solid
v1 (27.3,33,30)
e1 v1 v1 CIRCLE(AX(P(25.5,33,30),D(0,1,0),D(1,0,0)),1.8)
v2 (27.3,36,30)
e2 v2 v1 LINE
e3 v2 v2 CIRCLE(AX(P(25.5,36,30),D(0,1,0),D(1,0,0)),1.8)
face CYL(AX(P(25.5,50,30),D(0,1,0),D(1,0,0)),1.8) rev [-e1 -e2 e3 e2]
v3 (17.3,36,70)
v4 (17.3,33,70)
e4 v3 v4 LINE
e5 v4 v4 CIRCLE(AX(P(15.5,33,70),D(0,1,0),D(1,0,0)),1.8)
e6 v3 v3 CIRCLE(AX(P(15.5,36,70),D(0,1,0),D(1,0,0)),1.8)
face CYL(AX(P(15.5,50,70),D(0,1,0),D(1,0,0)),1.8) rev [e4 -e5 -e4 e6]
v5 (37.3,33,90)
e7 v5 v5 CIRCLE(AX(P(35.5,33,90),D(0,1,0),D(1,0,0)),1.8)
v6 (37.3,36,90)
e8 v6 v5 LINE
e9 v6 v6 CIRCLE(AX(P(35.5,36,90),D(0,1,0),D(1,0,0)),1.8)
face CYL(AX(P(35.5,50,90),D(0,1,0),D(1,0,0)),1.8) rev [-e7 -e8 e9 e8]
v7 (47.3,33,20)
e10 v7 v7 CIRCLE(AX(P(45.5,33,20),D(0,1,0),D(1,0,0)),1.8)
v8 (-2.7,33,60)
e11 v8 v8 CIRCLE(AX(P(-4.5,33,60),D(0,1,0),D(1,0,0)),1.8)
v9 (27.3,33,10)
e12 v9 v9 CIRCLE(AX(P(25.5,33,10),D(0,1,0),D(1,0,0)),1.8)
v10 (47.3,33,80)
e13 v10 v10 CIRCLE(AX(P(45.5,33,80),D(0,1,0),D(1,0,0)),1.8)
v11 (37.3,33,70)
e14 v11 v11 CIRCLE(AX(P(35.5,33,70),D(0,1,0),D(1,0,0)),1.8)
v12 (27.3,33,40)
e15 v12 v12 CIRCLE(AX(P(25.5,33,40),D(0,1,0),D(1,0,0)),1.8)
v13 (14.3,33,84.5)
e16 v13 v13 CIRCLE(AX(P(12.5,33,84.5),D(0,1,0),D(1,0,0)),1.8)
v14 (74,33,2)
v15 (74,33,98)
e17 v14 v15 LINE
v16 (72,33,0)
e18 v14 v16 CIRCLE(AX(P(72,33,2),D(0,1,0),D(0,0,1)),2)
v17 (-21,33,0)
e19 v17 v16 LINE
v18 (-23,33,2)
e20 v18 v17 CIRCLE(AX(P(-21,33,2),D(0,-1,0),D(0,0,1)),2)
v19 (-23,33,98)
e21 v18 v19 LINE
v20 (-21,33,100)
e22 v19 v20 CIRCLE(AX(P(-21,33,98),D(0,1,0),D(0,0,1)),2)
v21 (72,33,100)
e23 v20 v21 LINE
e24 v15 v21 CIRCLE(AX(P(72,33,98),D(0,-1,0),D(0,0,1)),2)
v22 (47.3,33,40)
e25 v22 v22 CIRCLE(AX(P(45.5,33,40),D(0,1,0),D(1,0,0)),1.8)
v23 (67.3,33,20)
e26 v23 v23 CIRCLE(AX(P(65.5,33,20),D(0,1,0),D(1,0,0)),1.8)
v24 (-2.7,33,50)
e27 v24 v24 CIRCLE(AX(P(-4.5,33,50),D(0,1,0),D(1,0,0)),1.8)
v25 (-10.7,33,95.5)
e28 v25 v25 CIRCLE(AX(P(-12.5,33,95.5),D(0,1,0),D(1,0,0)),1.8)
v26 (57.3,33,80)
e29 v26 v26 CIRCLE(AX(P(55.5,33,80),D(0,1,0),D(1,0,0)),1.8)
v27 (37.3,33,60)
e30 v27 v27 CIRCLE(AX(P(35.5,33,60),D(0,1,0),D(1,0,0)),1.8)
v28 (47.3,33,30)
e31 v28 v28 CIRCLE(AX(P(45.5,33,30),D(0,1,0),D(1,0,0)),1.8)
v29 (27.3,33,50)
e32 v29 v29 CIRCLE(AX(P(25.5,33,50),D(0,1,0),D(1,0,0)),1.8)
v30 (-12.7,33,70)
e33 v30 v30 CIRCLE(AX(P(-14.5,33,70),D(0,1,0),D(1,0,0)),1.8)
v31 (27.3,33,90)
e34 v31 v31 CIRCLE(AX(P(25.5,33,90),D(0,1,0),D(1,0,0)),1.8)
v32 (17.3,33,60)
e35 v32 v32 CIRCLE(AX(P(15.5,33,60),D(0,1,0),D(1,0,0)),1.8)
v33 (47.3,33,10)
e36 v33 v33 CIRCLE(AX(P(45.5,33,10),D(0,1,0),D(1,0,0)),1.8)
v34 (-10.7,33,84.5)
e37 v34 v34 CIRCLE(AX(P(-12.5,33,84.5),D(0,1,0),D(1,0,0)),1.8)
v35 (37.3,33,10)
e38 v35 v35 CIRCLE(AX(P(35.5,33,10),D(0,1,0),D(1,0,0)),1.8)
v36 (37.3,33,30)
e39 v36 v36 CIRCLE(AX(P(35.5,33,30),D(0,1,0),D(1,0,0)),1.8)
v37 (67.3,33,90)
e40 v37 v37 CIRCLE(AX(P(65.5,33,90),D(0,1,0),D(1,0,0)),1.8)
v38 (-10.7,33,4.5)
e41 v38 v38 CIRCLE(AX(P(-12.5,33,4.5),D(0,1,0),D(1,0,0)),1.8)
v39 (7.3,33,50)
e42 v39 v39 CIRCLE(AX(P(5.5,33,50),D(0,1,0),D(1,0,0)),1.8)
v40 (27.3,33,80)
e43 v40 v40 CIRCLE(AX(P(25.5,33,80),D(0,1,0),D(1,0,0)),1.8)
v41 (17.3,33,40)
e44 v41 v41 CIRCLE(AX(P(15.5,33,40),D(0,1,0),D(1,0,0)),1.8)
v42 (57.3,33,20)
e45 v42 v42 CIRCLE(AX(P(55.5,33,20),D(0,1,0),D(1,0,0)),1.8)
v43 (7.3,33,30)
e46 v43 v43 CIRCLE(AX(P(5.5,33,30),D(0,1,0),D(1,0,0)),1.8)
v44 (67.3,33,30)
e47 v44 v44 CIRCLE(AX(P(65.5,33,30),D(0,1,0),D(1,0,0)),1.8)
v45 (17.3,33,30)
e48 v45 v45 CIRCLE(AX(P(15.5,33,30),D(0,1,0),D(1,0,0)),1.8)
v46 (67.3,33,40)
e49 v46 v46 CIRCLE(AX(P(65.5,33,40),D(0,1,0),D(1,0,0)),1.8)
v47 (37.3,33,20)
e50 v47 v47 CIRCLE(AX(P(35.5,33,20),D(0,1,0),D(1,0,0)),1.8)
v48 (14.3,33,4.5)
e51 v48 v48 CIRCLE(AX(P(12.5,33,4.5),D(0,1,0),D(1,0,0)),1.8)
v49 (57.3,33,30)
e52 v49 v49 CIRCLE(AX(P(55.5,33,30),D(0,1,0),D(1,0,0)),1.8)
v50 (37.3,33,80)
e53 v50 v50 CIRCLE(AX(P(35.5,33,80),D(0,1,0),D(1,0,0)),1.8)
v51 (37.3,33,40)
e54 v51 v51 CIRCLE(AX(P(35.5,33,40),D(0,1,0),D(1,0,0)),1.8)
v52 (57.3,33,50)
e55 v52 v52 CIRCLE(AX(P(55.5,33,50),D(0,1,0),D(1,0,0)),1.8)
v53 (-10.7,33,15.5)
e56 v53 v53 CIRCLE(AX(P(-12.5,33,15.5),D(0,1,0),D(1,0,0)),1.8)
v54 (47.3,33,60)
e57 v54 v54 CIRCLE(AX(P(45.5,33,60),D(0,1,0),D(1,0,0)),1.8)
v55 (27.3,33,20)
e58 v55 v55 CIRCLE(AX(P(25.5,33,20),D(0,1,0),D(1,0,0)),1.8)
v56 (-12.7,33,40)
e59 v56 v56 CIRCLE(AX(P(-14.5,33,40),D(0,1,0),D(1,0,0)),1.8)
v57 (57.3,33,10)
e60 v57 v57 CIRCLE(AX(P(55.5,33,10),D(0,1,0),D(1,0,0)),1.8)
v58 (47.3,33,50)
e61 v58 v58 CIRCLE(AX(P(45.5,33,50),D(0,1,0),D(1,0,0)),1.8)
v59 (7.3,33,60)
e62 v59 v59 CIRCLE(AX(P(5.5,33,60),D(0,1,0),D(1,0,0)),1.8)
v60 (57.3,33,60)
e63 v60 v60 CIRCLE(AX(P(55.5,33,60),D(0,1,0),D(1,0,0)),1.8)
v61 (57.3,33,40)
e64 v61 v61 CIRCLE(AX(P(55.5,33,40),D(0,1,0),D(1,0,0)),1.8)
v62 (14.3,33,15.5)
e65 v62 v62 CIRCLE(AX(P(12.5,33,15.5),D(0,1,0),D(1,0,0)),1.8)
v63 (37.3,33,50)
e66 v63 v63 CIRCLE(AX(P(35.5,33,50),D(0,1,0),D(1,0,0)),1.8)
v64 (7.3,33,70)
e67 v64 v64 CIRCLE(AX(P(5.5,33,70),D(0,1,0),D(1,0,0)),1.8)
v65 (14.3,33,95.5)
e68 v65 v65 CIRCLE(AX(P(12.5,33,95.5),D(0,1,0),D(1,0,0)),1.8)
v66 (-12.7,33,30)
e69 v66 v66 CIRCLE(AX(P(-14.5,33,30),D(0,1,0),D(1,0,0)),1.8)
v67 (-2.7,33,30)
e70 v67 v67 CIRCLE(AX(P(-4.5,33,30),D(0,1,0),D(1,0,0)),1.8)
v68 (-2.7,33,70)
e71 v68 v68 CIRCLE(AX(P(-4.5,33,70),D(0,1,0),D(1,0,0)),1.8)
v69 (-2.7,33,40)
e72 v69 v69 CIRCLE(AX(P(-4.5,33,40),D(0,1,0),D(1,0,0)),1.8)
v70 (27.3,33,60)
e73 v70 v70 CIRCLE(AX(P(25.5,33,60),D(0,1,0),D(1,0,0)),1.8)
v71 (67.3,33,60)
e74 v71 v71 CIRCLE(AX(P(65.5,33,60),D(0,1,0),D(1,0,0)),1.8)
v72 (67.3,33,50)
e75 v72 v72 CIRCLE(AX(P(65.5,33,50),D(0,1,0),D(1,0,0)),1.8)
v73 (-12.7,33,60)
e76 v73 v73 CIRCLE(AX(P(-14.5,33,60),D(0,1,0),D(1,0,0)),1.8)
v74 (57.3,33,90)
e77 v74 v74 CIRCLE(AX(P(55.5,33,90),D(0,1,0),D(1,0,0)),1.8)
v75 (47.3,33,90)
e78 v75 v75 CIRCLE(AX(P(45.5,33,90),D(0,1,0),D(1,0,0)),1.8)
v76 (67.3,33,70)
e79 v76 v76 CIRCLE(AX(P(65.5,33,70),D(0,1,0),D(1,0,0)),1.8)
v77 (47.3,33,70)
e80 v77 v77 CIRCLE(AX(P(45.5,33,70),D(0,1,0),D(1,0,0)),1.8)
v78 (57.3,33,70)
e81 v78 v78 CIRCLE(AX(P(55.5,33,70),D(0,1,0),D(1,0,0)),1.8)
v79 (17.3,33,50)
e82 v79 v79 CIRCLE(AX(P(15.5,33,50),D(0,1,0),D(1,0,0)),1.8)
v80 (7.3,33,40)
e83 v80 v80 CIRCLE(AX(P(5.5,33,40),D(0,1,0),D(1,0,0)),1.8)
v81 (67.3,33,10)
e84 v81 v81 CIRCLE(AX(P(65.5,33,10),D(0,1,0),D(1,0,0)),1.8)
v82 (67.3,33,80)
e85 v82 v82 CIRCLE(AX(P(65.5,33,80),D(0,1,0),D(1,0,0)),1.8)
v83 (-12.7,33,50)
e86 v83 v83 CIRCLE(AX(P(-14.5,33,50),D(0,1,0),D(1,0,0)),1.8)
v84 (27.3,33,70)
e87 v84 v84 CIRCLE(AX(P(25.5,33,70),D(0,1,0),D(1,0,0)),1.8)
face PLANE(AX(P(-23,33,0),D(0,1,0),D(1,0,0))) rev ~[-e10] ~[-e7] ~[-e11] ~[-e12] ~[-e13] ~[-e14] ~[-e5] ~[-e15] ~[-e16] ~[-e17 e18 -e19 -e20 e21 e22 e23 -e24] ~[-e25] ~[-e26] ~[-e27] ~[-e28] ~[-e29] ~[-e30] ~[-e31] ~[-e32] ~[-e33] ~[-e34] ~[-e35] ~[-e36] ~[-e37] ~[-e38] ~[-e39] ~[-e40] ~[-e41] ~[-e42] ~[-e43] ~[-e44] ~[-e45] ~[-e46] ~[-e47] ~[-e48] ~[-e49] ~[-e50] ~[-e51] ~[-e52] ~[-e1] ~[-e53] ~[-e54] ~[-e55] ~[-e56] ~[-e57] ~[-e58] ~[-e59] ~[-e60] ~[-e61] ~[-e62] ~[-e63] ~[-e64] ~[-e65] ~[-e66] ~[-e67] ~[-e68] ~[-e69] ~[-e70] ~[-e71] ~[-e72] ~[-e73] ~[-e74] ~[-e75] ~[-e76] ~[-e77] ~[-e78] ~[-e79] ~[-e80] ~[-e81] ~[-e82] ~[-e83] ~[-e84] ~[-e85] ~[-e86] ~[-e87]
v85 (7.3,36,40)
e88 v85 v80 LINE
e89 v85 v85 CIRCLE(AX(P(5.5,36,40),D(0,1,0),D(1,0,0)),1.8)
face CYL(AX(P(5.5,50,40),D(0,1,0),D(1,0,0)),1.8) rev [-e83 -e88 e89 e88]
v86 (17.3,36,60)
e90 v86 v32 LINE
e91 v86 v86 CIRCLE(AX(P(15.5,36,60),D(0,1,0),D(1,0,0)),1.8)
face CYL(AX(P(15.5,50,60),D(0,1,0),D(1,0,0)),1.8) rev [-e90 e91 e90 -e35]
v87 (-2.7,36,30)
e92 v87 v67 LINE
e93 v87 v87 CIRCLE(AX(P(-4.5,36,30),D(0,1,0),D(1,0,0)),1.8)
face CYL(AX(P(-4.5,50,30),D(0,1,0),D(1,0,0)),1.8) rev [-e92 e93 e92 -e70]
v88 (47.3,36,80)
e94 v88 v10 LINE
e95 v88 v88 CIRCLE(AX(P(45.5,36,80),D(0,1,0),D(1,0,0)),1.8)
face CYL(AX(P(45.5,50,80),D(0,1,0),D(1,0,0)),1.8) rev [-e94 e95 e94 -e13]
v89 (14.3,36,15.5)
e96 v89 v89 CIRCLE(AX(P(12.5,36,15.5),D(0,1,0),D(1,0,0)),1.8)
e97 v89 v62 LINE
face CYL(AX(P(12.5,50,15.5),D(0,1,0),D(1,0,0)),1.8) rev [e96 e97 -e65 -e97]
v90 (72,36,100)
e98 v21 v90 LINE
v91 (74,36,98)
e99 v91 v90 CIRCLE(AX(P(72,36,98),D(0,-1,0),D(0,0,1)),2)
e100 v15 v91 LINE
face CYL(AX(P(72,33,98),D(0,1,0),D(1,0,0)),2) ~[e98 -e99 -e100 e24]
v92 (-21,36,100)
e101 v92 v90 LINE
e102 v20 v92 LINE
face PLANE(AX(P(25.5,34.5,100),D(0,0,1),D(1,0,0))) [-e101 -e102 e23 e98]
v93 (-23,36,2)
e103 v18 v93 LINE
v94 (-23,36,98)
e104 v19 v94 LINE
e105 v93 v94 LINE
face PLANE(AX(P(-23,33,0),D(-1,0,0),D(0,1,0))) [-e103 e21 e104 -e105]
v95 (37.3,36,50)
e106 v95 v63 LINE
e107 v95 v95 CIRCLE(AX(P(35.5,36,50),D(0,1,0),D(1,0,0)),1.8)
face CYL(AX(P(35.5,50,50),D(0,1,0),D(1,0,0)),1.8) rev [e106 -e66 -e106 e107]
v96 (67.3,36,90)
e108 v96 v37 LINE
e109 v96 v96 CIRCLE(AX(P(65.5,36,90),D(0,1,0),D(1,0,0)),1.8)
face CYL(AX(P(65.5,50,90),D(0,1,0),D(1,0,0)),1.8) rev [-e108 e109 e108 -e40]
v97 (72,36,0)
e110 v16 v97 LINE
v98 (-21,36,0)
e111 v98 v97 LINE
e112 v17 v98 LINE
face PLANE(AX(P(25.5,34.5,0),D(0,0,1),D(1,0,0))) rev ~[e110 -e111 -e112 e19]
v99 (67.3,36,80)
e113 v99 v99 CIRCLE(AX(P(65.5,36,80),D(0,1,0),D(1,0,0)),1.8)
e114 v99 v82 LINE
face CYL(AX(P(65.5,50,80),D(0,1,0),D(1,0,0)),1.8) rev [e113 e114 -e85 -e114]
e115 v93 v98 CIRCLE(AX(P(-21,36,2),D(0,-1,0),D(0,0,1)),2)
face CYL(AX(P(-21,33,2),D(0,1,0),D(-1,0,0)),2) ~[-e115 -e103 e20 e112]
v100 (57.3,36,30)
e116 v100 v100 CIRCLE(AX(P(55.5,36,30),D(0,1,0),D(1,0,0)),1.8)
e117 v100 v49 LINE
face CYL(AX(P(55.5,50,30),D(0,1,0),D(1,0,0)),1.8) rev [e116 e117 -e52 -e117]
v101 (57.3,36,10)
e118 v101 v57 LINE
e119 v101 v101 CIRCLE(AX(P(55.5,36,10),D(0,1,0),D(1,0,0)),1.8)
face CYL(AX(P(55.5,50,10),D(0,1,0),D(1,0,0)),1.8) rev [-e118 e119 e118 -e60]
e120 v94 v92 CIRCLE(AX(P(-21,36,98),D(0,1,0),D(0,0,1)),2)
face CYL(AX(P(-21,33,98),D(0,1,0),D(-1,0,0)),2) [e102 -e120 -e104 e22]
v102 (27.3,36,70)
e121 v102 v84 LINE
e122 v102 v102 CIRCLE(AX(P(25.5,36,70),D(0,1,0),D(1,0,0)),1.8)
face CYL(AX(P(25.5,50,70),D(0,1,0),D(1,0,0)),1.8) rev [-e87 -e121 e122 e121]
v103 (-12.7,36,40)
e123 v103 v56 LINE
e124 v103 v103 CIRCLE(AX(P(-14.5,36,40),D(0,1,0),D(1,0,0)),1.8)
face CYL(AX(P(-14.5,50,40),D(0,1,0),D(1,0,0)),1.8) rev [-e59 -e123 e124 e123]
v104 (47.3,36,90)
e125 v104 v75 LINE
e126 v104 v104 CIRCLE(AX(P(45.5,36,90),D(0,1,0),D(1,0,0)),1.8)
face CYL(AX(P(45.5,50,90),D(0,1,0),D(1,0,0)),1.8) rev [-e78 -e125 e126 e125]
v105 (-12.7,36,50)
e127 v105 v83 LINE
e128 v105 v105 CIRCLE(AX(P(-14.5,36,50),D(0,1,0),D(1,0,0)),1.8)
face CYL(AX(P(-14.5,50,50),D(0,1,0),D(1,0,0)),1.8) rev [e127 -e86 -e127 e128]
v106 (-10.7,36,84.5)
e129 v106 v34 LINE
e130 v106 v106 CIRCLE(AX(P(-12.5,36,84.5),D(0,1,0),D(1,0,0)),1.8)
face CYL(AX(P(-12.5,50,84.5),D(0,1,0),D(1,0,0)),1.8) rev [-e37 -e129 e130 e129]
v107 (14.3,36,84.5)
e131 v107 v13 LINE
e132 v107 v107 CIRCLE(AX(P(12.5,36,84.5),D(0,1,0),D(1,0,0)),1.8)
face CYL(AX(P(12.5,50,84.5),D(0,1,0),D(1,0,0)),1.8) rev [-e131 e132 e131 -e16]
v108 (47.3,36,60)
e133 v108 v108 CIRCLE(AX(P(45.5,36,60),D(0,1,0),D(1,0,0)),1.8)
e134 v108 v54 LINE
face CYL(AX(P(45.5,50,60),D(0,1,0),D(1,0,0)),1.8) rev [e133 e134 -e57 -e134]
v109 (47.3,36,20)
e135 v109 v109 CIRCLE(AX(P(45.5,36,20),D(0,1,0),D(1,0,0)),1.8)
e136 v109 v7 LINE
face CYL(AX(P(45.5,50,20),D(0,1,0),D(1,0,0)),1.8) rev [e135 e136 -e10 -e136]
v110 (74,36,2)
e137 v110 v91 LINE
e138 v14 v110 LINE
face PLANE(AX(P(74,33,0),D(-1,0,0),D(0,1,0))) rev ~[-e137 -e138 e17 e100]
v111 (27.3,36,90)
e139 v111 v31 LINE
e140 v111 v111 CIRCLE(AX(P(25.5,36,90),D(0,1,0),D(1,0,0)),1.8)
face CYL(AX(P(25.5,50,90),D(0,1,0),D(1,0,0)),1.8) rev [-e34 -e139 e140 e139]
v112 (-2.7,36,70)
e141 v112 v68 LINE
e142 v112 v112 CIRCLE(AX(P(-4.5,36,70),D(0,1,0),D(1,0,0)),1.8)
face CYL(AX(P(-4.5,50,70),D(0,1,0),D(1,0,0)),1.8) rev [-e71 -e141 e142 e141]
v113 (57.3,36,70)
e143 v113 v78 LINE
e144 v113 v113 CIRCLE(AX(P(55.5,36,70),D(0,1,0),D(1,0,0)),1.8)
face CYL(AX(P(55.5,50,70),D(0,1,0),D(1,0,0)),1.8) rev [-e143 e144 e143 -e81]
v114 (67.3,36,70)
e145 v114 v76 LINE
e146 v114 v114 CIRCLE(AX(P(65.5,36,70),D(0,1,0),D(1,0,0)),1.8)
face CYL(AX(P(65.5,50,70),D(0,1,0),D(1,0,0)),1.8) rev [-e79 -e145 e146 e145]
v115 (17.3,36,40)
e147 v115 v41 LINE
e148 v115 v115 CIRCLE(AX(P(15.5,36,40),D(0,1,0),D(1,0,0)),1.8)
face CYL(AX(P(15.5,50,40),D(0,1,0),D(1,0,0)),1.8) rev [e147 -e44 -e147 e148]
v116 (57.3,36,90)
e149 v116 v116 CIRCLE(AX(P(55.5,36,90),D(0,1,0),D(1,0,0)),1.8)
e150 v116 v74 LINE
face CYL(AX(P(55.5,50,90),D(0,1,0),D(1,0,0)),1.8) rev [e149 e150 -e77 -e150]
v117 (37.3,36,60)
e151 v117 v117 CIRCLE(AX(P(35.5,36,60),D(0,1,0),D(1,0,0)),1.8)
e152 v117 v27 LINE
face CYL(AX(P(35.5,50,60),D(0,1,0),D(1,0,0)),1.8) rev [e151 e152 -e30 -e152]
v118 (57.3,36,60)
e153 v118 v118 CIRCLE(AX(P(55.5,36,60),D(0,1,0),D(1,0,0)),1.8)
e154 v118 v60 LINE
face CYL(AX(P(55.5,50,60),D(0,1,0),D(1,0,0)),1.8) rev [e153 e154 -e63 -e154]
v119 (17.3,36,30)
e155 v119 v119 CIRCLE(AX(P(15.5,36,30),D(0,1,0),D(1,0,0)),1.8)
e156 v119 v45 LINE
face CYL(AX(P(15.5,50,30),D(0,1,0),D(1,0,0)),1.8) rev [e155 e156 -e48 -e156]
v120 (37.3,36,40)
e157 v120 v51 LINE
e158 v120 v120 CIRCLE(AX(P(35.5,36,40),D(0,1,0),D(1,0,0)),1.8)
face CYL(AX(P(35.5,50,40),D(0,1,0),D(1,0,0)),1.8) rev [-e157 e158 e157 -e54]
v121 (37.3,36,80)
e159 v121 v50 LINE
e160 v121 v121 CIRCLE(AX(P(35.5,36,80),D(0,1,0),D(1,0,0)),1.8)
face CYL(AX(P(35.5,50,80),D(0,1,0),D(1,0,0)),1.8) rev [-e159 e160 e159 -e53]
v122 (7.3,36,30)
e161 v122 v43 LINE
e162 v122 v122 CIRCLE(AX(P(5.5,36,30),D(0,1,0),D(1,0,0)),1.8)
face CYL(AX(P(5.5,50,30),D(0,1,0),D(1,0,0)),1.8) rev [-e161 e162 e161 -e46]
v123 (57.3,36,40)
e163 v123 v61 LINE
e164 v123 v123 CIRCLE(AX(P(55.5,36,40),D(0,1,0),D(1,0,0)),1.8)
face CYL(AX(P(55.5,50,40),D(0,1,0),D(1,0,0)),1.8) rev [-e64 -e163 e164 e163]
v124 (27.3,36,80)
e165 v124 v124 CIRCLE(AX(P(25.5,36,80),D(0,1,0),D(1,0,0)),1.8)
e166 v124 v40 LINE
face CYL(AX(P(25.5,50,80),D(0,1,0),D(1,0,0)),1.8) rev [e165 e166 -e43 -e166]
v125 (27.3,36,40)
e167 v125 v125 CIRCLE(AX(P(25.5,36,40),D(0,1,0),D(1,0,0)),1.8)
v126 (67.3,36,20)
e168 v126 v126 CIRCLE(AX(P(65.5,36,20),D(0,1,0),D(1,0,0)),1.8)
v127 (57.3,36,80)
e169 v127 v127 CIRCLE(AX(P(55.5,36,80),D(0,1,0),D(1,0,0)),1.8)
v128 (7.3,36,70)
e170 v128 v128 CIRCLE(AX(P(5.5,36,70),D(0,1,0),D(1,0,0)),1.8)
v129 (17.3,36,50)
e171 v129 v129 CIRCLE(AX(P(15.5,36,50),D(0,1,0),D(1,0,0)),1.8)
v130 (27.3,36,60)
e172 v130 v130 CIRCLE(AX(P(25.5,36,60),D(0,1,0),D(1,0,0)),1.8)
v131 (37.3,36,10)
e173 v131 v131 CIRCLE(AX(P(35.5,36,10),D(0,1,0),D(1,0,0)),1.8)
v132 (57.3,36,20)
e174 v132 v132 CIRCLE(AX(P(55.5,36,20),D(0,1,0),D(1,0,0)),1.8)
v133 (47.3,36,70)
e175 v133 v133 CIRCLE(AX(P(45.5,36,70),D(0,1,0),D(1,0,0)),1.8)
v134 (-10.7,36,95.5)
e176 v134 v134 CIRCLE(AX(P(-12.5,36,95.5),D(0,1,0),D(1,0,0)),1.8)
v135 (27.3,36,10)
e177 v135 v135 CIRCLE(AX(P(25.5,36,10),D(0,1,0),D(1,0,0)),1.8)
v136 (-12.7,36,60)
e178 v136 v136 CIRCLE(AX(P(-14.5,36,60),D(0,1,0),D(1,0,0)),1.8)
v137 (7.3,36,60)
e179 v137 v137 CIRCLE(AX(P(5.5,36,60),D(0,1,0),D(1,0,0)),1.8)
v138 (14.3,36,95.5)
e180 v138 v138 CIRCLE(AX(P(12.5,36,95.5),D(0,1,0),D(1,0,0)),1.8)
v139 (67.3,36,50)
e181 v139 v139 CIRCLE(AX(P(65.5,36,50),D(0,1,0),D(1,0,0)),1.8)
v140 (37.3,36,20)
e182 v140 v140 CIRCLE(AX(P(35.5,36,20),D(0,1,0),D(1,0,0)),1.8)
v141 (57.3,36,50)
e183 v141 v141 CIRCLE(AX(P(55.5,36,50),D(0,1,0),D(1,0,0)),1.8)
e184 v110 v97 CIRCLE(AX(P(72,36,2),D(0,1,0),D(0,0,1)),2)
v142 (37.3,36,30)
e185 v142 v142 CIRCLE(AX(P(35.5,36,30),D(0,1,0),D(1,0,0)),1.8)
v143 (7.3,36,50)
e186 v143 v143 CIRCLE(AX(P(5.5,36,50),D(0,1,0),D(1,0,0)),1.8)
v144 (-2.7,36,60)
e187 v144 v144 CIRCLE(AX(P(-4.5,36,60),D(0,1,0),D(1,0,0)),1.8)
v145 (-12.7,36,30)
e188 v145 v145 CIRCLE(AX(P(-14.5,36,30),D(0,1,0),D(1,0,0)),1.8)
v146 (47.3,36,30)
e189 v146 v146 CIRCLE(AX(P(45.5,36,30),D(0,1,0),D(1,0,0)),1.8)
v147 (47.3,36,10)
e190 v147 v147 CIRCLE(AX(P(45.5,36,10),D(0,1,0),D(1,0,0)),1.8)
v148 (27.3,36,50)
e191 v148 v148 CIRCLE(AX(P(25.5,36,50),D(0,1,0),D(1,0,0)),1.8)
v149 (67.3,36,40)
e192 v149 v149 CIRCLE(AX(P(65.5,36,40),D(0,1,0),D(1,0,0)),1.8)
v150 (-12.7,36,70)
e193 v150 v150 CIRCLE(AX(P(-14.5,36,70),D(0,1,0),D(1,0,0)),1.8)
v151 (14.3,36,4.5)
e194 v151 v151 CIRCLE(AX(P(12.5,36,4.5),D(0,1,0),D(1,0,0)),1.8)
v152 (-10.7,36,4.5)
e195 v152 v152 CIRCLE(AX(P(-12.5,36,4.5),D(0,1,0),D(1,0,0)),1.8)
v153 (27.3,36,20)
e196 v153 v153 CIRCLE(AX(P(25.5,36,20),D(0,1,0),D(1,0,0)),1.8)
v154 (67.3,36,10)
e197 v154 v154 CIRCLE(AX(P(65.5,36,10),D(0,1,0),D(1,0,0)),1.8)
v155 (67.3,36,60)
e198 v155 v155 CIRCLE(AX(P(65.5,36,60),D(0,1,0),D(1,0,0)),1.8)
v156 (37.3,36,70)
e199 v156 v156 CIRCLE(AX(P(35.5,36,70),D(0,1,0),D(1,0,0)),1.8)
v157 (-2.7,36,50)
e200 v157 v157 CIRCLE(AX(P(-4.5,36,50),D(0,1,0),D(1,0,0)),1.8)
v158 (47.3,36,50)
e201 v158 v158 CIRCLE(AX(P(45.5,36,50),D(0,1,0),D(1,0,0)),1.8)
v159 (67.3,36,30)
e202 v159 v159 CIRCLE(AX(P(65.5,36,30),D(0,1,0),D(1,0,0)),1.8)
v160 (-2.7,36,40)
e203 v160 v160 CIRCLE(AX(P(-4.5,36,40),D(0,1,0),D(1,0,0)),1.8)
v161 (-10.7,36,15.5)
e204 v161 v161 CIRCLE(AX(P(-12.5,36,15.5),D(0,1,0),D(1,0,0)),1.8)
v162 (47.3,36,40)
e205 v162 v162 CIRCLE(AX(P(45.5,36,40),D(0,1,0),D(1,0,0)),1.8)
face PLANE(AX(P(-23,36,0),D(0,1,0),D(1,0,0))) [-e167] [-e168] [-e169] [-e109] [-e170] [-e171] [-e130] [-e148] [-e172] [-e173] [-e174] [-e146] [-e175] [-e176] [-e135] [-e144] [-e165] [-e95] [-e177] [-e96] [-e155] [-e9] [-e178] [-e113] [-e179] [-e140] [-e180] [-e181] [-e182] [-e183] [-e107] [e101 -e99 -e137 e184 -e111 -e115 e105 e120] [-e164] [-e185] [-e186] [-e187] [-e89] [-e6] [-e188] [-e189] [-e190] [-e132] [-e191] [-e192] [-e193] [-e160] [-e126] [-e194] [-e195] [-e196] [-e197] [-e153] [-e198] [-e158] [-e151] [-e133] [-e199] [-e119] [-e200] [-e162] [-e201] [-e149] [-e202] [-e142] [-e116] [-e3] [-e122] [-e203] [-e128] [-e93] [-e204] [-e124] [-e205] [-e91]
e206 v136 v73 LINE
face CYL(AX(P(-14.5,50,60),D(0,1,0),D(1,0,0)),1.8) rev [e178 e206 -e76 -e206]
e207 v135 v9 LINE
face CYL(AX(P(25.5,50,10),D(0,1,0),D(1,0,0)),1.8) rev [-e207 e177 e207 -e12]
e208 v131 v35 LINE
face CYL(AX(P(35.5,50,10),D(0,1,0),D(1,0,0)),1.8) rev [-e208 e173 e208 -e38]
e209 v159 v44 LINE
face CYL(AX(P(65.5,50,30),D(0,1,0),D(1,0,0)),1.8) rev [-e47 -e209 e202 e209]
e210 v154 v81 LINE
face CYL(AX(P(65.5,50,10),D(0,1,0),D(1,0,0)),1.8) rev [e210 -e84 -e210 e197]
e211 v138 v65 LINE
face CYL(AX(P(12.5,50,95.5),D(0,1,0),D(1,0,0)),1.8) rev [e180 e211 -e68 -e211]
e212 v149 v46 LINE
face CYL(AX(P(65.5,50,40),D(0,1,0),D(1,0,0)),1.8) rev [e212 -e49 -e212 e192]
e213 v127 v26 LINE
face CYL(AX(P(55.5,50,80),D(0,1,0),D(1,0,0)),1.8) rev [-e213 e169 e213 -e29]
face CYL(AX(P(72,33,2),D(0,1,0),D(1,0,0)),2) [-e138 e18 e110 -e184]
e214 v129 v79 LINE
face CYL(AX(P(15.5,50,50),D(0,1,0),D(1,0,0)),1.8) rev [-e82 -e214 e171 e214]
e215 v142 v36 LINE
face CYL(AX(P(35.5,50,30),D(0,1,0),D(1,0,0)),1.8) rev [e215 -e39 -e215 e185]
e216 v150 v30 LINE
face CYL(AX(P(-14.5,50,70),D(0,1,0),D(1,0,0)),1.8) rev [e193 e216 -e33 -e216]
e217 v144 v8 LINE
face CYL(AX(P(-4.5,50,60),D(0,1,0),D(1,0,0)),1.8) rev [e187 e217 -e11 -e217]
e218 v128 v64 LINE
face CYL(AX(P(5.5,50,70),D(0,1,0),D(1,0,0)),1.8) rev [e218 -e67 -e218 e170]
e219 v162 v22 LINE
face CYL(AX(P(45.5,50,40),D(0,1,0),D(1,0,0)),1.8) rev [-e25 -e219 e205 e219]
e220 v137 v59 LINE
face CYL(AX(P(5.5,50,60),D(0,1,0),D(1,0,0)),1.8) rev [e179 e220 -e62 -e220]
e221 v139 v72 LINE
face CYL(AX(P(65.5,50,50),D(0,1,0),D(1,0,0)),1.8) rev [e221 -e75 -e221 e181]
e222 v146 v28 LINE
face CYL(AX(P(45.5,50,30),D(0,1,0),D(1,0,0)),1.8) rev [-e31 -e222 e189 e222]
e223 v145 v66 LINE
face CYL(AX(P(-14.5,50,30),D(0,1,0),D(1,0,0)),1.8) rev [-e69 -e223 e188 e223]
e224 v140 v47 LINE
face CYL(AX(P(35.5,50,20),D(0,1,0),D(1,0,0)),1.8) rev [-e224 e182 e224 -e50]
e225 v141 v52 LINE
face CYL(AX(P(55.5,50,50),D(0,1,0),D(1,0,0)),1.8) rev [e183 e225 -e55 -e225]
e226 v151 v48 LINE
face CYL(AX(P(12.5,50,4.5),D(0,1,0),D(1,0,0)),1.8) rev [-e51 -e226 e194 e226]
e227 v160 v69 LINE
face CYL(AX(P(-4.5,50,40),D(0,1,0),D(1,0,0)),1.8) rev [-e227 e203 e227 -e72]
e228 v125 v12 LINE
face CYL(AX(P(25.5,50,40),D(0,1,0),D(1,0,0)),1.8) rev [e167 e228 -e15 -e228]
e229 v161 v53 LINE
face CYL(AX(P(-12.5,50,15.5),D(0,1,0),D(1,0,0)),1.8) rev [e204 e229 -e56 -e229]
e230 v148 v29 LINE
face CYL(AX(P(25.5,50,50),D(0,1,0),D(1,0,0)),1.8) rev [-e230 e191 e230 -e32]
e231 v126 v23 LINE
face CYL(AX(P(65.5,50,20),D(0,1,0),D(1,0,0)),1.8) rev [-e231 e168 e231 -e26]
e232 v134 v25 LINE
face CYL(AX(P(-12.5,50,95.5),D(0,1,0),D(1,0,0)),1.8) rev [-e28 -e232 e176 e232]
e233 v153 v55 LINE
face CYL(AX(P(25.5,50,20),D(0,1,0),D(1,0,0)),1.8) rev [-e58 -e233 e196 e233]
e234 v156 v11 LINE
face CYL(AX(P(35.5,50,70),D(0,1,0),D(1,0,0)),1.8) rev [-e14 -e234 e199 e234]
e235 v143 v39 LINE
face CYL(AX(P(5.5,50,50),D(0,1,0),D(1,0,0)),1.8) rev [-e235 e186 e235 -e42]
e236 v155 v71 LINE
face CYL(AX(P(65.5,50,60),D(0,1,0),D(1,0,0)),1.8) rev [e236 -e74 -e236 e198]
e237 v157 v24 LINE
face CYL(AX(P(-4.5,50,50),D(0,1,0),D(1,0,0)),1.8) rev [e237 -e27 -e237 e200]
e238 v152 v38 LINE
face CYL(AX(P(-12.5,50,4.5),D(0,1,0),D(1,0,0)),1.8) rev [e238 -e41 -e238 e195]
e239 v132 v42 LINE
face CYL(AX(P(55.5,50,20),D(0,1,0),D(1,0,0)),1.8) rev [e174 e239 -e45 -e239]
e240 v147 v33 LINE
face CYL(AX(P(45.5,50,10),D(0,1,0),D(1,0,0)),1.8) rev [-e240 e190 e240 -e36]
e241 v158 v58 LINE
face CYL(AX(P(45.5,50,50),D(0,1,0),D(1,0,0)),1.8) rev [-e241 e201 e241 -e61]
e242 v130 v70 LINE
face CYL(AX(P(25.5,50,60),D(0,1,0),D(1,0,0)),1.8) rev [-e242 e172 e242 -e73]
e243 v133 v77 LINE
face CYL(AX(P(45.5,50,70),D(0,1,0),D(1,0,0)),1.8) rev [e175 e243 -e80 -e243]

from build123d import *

# Parameters (mm, degrees)
CYLINDER038_R            = 1.8
CYLINDER038_DEPTH        = 100
ARRAY001_X_COUNT         = 2
ARRAY001_X_PITCH         = 25
ARRAY001_Y_COUNT         = 2
ARRAY001_Y_PITCH         = 11
ARRAY001_PLACEMENT_ANGLE = 90
ARRAY002_Z_COUNT         = 2
ARRAY002_Z_PITCH         = 80
SKETCH001_W              = 43.249981
SKETCH001_H              = 25.364647
SKETCH001_W_2            = 44.875929
SKETCH001_H_2            = 23.738708
EXTRUDE001_DEPTH         = 50
CYLINDER011002_R         = 1.8
CYLINDER011002_DEPTH     = 100
ARRAY004_X_COUNT         = 9
ARRAY004_X_PITCH         = 10
ARRAY004_Z_COUNT         = 9
ARRAY004_Z_PITCH         = 10
BOX001_W                 = 97
BOX001_H                 = 3
BOX001_DEPTH             = 100
FILLET001_R              = 2


with BuildPart() as bolt_hole_array_pair:
    # Cylinder038 → Cylinder038 (new body)
    with BuildSketch(Plane.XY.offset(-50)):
        Circle(CYLINDER038_R)
    extrude(amount=CYLINDER038_DEPTH)

    # Array001 X: bolt hole array pair ×2


with BuildPart() as bolt_hole_array_pair_1:
    add(bolt_hole_array_pair.part)
    with Locations(*[(i * ARRAY001_X_PITCH, 0, 0) for i in range(1, ARRAY001_X_COUNT)]):
        add(bolt_hole_array_pair.part)

    # Array001 Y: bolt hole array pair ×2


with BuildPart() as bolt_hole_array_pair_2:
    add(bolt_hole_array_pair_1.part)
    with Locations(*[(0, i * ARRAY001_Y_PITCH, 0) for i in range(1, ARRAY001_Y_COUNT)]):
        add(bolt_hole_array_pair_1.part)


with BuildPart() as bolt_hole_array_pair_3:
    # Array001 placement: moved
    add(bolt_hole_array_pair_2.part.moved(Location((-12.5, 0, 4.5))).rotate(Axis((-12.5, 0, 4.5), (1, 0, 0)), ARRAY001_PLACEMENT_ANGLE))

    # Array002 Z: bolt hole array pair ×2


with BuildPart() as bolt_hole_array_pair_4:
    add(bolt_hole_array_pair_3.part)
    with Locations(*[(0, 0, i * ARRAY002_Z_PITCH) for i in range(1, ARRAY002_Z_COUNT)]):
        add(bolt_hole_array_pair_3.part)


with BuildPart() as pulley_side_extrude:
    # Sketch001 (on Array) → Extrude001 (new body, symmetric)
    with BuildSketch(Plane(origin=(-14.5, 0, 10), x_dir=(1, 0, 0), z_dir=(0, -1, 0))):
        with Locations((13.668077, 77.054226)):
            Rectangle(SKETCH001_W, SKETCH001_H)
        with Locations((13.180285, 1.773257)):
            Rectangle(SKETCH001_W_2, SKETCH001_H_2)
    extrude(amount=EXTRUDE001_DEPTH, both=True)


with BuildPart() as pulley_side_hole_fusion:
    # Cylinder011002 → Cylinder011002 (new body)
    with BuildSketch(Plane.XZ.offset(-50)):
        Circle(CYLINDER011002_R)
    extrude(amount=CYLINDER011002_DEPTH)

    # Array004 X: pulley side hole fusion ×9


with BuildPart() as pulley_side_hole_fusion_1:
    add(pulley_side_hole_fusion.part)
    with Locations(*[(i * ARRAY004_X_PITCH, 0, 0) for i in range(1, ARRAY004_X_COUNT)]):
        add(pulley_side_hole_fusion.part)

    # Array004 Z: pulley side hole fusion ×9


with BuildPart() as pulley_side_hole_fusion_2:
    add(pulley_side_hole_fusion_1.part)
    with Locations(*[(0, 0, i * ARRAY004_Z_PITCH) for i in range(1, ARRAY004_Z_COUNT)]):
        add(pulley_side_hole_fusion_1.part)


with BuildPart() as pulley_side_hole_fusion_3:
    # Array004 placement: moved
    add(pulley_side_hole_fusion_2.part.moved(Location((-14.5, 0, 10))))

    # Cut023015009003: cut pulley side extrude
    add(pulley_side_extrude.part, mode=Mode.SUBTRACT)

    # Fusion001: union bolt hole array pair
    add(bolt_hole_array_pair_4.part)


with BuildPart() as pulley_side_plate_cut:
    # Box001 → Box001 (new body)
    with BuildSketch(Plane(origin=(-23, 33, 0), x_dir=(1, 0, 0), z_dir=(0, 0, 1))):
        with Locations((48.5, 1.5)):
            Rectangle(BOX001_W, BOX001_H)
    extrude(amount=BOX001_DEPTH)

    # Fillet001
    fillet001_edges = [pulley_side_plate_cut.edges().sort_by_distance(p)[0] for p in [
        (-23, 34.5, 100),
        (-23, 34.5, 0),
        (74, 34.5, 100),
        (74, 34.5, 0),
    ]]
    fillet(fillet001_edges, radius=FILLET001_R)

    # Cut023015009004: cut pulley side hole fusion
    add(pulley_side_hole_fusion_3.part, mode=Mode.SUBTRACT)


solid = pulley_side_plate_cut.part
